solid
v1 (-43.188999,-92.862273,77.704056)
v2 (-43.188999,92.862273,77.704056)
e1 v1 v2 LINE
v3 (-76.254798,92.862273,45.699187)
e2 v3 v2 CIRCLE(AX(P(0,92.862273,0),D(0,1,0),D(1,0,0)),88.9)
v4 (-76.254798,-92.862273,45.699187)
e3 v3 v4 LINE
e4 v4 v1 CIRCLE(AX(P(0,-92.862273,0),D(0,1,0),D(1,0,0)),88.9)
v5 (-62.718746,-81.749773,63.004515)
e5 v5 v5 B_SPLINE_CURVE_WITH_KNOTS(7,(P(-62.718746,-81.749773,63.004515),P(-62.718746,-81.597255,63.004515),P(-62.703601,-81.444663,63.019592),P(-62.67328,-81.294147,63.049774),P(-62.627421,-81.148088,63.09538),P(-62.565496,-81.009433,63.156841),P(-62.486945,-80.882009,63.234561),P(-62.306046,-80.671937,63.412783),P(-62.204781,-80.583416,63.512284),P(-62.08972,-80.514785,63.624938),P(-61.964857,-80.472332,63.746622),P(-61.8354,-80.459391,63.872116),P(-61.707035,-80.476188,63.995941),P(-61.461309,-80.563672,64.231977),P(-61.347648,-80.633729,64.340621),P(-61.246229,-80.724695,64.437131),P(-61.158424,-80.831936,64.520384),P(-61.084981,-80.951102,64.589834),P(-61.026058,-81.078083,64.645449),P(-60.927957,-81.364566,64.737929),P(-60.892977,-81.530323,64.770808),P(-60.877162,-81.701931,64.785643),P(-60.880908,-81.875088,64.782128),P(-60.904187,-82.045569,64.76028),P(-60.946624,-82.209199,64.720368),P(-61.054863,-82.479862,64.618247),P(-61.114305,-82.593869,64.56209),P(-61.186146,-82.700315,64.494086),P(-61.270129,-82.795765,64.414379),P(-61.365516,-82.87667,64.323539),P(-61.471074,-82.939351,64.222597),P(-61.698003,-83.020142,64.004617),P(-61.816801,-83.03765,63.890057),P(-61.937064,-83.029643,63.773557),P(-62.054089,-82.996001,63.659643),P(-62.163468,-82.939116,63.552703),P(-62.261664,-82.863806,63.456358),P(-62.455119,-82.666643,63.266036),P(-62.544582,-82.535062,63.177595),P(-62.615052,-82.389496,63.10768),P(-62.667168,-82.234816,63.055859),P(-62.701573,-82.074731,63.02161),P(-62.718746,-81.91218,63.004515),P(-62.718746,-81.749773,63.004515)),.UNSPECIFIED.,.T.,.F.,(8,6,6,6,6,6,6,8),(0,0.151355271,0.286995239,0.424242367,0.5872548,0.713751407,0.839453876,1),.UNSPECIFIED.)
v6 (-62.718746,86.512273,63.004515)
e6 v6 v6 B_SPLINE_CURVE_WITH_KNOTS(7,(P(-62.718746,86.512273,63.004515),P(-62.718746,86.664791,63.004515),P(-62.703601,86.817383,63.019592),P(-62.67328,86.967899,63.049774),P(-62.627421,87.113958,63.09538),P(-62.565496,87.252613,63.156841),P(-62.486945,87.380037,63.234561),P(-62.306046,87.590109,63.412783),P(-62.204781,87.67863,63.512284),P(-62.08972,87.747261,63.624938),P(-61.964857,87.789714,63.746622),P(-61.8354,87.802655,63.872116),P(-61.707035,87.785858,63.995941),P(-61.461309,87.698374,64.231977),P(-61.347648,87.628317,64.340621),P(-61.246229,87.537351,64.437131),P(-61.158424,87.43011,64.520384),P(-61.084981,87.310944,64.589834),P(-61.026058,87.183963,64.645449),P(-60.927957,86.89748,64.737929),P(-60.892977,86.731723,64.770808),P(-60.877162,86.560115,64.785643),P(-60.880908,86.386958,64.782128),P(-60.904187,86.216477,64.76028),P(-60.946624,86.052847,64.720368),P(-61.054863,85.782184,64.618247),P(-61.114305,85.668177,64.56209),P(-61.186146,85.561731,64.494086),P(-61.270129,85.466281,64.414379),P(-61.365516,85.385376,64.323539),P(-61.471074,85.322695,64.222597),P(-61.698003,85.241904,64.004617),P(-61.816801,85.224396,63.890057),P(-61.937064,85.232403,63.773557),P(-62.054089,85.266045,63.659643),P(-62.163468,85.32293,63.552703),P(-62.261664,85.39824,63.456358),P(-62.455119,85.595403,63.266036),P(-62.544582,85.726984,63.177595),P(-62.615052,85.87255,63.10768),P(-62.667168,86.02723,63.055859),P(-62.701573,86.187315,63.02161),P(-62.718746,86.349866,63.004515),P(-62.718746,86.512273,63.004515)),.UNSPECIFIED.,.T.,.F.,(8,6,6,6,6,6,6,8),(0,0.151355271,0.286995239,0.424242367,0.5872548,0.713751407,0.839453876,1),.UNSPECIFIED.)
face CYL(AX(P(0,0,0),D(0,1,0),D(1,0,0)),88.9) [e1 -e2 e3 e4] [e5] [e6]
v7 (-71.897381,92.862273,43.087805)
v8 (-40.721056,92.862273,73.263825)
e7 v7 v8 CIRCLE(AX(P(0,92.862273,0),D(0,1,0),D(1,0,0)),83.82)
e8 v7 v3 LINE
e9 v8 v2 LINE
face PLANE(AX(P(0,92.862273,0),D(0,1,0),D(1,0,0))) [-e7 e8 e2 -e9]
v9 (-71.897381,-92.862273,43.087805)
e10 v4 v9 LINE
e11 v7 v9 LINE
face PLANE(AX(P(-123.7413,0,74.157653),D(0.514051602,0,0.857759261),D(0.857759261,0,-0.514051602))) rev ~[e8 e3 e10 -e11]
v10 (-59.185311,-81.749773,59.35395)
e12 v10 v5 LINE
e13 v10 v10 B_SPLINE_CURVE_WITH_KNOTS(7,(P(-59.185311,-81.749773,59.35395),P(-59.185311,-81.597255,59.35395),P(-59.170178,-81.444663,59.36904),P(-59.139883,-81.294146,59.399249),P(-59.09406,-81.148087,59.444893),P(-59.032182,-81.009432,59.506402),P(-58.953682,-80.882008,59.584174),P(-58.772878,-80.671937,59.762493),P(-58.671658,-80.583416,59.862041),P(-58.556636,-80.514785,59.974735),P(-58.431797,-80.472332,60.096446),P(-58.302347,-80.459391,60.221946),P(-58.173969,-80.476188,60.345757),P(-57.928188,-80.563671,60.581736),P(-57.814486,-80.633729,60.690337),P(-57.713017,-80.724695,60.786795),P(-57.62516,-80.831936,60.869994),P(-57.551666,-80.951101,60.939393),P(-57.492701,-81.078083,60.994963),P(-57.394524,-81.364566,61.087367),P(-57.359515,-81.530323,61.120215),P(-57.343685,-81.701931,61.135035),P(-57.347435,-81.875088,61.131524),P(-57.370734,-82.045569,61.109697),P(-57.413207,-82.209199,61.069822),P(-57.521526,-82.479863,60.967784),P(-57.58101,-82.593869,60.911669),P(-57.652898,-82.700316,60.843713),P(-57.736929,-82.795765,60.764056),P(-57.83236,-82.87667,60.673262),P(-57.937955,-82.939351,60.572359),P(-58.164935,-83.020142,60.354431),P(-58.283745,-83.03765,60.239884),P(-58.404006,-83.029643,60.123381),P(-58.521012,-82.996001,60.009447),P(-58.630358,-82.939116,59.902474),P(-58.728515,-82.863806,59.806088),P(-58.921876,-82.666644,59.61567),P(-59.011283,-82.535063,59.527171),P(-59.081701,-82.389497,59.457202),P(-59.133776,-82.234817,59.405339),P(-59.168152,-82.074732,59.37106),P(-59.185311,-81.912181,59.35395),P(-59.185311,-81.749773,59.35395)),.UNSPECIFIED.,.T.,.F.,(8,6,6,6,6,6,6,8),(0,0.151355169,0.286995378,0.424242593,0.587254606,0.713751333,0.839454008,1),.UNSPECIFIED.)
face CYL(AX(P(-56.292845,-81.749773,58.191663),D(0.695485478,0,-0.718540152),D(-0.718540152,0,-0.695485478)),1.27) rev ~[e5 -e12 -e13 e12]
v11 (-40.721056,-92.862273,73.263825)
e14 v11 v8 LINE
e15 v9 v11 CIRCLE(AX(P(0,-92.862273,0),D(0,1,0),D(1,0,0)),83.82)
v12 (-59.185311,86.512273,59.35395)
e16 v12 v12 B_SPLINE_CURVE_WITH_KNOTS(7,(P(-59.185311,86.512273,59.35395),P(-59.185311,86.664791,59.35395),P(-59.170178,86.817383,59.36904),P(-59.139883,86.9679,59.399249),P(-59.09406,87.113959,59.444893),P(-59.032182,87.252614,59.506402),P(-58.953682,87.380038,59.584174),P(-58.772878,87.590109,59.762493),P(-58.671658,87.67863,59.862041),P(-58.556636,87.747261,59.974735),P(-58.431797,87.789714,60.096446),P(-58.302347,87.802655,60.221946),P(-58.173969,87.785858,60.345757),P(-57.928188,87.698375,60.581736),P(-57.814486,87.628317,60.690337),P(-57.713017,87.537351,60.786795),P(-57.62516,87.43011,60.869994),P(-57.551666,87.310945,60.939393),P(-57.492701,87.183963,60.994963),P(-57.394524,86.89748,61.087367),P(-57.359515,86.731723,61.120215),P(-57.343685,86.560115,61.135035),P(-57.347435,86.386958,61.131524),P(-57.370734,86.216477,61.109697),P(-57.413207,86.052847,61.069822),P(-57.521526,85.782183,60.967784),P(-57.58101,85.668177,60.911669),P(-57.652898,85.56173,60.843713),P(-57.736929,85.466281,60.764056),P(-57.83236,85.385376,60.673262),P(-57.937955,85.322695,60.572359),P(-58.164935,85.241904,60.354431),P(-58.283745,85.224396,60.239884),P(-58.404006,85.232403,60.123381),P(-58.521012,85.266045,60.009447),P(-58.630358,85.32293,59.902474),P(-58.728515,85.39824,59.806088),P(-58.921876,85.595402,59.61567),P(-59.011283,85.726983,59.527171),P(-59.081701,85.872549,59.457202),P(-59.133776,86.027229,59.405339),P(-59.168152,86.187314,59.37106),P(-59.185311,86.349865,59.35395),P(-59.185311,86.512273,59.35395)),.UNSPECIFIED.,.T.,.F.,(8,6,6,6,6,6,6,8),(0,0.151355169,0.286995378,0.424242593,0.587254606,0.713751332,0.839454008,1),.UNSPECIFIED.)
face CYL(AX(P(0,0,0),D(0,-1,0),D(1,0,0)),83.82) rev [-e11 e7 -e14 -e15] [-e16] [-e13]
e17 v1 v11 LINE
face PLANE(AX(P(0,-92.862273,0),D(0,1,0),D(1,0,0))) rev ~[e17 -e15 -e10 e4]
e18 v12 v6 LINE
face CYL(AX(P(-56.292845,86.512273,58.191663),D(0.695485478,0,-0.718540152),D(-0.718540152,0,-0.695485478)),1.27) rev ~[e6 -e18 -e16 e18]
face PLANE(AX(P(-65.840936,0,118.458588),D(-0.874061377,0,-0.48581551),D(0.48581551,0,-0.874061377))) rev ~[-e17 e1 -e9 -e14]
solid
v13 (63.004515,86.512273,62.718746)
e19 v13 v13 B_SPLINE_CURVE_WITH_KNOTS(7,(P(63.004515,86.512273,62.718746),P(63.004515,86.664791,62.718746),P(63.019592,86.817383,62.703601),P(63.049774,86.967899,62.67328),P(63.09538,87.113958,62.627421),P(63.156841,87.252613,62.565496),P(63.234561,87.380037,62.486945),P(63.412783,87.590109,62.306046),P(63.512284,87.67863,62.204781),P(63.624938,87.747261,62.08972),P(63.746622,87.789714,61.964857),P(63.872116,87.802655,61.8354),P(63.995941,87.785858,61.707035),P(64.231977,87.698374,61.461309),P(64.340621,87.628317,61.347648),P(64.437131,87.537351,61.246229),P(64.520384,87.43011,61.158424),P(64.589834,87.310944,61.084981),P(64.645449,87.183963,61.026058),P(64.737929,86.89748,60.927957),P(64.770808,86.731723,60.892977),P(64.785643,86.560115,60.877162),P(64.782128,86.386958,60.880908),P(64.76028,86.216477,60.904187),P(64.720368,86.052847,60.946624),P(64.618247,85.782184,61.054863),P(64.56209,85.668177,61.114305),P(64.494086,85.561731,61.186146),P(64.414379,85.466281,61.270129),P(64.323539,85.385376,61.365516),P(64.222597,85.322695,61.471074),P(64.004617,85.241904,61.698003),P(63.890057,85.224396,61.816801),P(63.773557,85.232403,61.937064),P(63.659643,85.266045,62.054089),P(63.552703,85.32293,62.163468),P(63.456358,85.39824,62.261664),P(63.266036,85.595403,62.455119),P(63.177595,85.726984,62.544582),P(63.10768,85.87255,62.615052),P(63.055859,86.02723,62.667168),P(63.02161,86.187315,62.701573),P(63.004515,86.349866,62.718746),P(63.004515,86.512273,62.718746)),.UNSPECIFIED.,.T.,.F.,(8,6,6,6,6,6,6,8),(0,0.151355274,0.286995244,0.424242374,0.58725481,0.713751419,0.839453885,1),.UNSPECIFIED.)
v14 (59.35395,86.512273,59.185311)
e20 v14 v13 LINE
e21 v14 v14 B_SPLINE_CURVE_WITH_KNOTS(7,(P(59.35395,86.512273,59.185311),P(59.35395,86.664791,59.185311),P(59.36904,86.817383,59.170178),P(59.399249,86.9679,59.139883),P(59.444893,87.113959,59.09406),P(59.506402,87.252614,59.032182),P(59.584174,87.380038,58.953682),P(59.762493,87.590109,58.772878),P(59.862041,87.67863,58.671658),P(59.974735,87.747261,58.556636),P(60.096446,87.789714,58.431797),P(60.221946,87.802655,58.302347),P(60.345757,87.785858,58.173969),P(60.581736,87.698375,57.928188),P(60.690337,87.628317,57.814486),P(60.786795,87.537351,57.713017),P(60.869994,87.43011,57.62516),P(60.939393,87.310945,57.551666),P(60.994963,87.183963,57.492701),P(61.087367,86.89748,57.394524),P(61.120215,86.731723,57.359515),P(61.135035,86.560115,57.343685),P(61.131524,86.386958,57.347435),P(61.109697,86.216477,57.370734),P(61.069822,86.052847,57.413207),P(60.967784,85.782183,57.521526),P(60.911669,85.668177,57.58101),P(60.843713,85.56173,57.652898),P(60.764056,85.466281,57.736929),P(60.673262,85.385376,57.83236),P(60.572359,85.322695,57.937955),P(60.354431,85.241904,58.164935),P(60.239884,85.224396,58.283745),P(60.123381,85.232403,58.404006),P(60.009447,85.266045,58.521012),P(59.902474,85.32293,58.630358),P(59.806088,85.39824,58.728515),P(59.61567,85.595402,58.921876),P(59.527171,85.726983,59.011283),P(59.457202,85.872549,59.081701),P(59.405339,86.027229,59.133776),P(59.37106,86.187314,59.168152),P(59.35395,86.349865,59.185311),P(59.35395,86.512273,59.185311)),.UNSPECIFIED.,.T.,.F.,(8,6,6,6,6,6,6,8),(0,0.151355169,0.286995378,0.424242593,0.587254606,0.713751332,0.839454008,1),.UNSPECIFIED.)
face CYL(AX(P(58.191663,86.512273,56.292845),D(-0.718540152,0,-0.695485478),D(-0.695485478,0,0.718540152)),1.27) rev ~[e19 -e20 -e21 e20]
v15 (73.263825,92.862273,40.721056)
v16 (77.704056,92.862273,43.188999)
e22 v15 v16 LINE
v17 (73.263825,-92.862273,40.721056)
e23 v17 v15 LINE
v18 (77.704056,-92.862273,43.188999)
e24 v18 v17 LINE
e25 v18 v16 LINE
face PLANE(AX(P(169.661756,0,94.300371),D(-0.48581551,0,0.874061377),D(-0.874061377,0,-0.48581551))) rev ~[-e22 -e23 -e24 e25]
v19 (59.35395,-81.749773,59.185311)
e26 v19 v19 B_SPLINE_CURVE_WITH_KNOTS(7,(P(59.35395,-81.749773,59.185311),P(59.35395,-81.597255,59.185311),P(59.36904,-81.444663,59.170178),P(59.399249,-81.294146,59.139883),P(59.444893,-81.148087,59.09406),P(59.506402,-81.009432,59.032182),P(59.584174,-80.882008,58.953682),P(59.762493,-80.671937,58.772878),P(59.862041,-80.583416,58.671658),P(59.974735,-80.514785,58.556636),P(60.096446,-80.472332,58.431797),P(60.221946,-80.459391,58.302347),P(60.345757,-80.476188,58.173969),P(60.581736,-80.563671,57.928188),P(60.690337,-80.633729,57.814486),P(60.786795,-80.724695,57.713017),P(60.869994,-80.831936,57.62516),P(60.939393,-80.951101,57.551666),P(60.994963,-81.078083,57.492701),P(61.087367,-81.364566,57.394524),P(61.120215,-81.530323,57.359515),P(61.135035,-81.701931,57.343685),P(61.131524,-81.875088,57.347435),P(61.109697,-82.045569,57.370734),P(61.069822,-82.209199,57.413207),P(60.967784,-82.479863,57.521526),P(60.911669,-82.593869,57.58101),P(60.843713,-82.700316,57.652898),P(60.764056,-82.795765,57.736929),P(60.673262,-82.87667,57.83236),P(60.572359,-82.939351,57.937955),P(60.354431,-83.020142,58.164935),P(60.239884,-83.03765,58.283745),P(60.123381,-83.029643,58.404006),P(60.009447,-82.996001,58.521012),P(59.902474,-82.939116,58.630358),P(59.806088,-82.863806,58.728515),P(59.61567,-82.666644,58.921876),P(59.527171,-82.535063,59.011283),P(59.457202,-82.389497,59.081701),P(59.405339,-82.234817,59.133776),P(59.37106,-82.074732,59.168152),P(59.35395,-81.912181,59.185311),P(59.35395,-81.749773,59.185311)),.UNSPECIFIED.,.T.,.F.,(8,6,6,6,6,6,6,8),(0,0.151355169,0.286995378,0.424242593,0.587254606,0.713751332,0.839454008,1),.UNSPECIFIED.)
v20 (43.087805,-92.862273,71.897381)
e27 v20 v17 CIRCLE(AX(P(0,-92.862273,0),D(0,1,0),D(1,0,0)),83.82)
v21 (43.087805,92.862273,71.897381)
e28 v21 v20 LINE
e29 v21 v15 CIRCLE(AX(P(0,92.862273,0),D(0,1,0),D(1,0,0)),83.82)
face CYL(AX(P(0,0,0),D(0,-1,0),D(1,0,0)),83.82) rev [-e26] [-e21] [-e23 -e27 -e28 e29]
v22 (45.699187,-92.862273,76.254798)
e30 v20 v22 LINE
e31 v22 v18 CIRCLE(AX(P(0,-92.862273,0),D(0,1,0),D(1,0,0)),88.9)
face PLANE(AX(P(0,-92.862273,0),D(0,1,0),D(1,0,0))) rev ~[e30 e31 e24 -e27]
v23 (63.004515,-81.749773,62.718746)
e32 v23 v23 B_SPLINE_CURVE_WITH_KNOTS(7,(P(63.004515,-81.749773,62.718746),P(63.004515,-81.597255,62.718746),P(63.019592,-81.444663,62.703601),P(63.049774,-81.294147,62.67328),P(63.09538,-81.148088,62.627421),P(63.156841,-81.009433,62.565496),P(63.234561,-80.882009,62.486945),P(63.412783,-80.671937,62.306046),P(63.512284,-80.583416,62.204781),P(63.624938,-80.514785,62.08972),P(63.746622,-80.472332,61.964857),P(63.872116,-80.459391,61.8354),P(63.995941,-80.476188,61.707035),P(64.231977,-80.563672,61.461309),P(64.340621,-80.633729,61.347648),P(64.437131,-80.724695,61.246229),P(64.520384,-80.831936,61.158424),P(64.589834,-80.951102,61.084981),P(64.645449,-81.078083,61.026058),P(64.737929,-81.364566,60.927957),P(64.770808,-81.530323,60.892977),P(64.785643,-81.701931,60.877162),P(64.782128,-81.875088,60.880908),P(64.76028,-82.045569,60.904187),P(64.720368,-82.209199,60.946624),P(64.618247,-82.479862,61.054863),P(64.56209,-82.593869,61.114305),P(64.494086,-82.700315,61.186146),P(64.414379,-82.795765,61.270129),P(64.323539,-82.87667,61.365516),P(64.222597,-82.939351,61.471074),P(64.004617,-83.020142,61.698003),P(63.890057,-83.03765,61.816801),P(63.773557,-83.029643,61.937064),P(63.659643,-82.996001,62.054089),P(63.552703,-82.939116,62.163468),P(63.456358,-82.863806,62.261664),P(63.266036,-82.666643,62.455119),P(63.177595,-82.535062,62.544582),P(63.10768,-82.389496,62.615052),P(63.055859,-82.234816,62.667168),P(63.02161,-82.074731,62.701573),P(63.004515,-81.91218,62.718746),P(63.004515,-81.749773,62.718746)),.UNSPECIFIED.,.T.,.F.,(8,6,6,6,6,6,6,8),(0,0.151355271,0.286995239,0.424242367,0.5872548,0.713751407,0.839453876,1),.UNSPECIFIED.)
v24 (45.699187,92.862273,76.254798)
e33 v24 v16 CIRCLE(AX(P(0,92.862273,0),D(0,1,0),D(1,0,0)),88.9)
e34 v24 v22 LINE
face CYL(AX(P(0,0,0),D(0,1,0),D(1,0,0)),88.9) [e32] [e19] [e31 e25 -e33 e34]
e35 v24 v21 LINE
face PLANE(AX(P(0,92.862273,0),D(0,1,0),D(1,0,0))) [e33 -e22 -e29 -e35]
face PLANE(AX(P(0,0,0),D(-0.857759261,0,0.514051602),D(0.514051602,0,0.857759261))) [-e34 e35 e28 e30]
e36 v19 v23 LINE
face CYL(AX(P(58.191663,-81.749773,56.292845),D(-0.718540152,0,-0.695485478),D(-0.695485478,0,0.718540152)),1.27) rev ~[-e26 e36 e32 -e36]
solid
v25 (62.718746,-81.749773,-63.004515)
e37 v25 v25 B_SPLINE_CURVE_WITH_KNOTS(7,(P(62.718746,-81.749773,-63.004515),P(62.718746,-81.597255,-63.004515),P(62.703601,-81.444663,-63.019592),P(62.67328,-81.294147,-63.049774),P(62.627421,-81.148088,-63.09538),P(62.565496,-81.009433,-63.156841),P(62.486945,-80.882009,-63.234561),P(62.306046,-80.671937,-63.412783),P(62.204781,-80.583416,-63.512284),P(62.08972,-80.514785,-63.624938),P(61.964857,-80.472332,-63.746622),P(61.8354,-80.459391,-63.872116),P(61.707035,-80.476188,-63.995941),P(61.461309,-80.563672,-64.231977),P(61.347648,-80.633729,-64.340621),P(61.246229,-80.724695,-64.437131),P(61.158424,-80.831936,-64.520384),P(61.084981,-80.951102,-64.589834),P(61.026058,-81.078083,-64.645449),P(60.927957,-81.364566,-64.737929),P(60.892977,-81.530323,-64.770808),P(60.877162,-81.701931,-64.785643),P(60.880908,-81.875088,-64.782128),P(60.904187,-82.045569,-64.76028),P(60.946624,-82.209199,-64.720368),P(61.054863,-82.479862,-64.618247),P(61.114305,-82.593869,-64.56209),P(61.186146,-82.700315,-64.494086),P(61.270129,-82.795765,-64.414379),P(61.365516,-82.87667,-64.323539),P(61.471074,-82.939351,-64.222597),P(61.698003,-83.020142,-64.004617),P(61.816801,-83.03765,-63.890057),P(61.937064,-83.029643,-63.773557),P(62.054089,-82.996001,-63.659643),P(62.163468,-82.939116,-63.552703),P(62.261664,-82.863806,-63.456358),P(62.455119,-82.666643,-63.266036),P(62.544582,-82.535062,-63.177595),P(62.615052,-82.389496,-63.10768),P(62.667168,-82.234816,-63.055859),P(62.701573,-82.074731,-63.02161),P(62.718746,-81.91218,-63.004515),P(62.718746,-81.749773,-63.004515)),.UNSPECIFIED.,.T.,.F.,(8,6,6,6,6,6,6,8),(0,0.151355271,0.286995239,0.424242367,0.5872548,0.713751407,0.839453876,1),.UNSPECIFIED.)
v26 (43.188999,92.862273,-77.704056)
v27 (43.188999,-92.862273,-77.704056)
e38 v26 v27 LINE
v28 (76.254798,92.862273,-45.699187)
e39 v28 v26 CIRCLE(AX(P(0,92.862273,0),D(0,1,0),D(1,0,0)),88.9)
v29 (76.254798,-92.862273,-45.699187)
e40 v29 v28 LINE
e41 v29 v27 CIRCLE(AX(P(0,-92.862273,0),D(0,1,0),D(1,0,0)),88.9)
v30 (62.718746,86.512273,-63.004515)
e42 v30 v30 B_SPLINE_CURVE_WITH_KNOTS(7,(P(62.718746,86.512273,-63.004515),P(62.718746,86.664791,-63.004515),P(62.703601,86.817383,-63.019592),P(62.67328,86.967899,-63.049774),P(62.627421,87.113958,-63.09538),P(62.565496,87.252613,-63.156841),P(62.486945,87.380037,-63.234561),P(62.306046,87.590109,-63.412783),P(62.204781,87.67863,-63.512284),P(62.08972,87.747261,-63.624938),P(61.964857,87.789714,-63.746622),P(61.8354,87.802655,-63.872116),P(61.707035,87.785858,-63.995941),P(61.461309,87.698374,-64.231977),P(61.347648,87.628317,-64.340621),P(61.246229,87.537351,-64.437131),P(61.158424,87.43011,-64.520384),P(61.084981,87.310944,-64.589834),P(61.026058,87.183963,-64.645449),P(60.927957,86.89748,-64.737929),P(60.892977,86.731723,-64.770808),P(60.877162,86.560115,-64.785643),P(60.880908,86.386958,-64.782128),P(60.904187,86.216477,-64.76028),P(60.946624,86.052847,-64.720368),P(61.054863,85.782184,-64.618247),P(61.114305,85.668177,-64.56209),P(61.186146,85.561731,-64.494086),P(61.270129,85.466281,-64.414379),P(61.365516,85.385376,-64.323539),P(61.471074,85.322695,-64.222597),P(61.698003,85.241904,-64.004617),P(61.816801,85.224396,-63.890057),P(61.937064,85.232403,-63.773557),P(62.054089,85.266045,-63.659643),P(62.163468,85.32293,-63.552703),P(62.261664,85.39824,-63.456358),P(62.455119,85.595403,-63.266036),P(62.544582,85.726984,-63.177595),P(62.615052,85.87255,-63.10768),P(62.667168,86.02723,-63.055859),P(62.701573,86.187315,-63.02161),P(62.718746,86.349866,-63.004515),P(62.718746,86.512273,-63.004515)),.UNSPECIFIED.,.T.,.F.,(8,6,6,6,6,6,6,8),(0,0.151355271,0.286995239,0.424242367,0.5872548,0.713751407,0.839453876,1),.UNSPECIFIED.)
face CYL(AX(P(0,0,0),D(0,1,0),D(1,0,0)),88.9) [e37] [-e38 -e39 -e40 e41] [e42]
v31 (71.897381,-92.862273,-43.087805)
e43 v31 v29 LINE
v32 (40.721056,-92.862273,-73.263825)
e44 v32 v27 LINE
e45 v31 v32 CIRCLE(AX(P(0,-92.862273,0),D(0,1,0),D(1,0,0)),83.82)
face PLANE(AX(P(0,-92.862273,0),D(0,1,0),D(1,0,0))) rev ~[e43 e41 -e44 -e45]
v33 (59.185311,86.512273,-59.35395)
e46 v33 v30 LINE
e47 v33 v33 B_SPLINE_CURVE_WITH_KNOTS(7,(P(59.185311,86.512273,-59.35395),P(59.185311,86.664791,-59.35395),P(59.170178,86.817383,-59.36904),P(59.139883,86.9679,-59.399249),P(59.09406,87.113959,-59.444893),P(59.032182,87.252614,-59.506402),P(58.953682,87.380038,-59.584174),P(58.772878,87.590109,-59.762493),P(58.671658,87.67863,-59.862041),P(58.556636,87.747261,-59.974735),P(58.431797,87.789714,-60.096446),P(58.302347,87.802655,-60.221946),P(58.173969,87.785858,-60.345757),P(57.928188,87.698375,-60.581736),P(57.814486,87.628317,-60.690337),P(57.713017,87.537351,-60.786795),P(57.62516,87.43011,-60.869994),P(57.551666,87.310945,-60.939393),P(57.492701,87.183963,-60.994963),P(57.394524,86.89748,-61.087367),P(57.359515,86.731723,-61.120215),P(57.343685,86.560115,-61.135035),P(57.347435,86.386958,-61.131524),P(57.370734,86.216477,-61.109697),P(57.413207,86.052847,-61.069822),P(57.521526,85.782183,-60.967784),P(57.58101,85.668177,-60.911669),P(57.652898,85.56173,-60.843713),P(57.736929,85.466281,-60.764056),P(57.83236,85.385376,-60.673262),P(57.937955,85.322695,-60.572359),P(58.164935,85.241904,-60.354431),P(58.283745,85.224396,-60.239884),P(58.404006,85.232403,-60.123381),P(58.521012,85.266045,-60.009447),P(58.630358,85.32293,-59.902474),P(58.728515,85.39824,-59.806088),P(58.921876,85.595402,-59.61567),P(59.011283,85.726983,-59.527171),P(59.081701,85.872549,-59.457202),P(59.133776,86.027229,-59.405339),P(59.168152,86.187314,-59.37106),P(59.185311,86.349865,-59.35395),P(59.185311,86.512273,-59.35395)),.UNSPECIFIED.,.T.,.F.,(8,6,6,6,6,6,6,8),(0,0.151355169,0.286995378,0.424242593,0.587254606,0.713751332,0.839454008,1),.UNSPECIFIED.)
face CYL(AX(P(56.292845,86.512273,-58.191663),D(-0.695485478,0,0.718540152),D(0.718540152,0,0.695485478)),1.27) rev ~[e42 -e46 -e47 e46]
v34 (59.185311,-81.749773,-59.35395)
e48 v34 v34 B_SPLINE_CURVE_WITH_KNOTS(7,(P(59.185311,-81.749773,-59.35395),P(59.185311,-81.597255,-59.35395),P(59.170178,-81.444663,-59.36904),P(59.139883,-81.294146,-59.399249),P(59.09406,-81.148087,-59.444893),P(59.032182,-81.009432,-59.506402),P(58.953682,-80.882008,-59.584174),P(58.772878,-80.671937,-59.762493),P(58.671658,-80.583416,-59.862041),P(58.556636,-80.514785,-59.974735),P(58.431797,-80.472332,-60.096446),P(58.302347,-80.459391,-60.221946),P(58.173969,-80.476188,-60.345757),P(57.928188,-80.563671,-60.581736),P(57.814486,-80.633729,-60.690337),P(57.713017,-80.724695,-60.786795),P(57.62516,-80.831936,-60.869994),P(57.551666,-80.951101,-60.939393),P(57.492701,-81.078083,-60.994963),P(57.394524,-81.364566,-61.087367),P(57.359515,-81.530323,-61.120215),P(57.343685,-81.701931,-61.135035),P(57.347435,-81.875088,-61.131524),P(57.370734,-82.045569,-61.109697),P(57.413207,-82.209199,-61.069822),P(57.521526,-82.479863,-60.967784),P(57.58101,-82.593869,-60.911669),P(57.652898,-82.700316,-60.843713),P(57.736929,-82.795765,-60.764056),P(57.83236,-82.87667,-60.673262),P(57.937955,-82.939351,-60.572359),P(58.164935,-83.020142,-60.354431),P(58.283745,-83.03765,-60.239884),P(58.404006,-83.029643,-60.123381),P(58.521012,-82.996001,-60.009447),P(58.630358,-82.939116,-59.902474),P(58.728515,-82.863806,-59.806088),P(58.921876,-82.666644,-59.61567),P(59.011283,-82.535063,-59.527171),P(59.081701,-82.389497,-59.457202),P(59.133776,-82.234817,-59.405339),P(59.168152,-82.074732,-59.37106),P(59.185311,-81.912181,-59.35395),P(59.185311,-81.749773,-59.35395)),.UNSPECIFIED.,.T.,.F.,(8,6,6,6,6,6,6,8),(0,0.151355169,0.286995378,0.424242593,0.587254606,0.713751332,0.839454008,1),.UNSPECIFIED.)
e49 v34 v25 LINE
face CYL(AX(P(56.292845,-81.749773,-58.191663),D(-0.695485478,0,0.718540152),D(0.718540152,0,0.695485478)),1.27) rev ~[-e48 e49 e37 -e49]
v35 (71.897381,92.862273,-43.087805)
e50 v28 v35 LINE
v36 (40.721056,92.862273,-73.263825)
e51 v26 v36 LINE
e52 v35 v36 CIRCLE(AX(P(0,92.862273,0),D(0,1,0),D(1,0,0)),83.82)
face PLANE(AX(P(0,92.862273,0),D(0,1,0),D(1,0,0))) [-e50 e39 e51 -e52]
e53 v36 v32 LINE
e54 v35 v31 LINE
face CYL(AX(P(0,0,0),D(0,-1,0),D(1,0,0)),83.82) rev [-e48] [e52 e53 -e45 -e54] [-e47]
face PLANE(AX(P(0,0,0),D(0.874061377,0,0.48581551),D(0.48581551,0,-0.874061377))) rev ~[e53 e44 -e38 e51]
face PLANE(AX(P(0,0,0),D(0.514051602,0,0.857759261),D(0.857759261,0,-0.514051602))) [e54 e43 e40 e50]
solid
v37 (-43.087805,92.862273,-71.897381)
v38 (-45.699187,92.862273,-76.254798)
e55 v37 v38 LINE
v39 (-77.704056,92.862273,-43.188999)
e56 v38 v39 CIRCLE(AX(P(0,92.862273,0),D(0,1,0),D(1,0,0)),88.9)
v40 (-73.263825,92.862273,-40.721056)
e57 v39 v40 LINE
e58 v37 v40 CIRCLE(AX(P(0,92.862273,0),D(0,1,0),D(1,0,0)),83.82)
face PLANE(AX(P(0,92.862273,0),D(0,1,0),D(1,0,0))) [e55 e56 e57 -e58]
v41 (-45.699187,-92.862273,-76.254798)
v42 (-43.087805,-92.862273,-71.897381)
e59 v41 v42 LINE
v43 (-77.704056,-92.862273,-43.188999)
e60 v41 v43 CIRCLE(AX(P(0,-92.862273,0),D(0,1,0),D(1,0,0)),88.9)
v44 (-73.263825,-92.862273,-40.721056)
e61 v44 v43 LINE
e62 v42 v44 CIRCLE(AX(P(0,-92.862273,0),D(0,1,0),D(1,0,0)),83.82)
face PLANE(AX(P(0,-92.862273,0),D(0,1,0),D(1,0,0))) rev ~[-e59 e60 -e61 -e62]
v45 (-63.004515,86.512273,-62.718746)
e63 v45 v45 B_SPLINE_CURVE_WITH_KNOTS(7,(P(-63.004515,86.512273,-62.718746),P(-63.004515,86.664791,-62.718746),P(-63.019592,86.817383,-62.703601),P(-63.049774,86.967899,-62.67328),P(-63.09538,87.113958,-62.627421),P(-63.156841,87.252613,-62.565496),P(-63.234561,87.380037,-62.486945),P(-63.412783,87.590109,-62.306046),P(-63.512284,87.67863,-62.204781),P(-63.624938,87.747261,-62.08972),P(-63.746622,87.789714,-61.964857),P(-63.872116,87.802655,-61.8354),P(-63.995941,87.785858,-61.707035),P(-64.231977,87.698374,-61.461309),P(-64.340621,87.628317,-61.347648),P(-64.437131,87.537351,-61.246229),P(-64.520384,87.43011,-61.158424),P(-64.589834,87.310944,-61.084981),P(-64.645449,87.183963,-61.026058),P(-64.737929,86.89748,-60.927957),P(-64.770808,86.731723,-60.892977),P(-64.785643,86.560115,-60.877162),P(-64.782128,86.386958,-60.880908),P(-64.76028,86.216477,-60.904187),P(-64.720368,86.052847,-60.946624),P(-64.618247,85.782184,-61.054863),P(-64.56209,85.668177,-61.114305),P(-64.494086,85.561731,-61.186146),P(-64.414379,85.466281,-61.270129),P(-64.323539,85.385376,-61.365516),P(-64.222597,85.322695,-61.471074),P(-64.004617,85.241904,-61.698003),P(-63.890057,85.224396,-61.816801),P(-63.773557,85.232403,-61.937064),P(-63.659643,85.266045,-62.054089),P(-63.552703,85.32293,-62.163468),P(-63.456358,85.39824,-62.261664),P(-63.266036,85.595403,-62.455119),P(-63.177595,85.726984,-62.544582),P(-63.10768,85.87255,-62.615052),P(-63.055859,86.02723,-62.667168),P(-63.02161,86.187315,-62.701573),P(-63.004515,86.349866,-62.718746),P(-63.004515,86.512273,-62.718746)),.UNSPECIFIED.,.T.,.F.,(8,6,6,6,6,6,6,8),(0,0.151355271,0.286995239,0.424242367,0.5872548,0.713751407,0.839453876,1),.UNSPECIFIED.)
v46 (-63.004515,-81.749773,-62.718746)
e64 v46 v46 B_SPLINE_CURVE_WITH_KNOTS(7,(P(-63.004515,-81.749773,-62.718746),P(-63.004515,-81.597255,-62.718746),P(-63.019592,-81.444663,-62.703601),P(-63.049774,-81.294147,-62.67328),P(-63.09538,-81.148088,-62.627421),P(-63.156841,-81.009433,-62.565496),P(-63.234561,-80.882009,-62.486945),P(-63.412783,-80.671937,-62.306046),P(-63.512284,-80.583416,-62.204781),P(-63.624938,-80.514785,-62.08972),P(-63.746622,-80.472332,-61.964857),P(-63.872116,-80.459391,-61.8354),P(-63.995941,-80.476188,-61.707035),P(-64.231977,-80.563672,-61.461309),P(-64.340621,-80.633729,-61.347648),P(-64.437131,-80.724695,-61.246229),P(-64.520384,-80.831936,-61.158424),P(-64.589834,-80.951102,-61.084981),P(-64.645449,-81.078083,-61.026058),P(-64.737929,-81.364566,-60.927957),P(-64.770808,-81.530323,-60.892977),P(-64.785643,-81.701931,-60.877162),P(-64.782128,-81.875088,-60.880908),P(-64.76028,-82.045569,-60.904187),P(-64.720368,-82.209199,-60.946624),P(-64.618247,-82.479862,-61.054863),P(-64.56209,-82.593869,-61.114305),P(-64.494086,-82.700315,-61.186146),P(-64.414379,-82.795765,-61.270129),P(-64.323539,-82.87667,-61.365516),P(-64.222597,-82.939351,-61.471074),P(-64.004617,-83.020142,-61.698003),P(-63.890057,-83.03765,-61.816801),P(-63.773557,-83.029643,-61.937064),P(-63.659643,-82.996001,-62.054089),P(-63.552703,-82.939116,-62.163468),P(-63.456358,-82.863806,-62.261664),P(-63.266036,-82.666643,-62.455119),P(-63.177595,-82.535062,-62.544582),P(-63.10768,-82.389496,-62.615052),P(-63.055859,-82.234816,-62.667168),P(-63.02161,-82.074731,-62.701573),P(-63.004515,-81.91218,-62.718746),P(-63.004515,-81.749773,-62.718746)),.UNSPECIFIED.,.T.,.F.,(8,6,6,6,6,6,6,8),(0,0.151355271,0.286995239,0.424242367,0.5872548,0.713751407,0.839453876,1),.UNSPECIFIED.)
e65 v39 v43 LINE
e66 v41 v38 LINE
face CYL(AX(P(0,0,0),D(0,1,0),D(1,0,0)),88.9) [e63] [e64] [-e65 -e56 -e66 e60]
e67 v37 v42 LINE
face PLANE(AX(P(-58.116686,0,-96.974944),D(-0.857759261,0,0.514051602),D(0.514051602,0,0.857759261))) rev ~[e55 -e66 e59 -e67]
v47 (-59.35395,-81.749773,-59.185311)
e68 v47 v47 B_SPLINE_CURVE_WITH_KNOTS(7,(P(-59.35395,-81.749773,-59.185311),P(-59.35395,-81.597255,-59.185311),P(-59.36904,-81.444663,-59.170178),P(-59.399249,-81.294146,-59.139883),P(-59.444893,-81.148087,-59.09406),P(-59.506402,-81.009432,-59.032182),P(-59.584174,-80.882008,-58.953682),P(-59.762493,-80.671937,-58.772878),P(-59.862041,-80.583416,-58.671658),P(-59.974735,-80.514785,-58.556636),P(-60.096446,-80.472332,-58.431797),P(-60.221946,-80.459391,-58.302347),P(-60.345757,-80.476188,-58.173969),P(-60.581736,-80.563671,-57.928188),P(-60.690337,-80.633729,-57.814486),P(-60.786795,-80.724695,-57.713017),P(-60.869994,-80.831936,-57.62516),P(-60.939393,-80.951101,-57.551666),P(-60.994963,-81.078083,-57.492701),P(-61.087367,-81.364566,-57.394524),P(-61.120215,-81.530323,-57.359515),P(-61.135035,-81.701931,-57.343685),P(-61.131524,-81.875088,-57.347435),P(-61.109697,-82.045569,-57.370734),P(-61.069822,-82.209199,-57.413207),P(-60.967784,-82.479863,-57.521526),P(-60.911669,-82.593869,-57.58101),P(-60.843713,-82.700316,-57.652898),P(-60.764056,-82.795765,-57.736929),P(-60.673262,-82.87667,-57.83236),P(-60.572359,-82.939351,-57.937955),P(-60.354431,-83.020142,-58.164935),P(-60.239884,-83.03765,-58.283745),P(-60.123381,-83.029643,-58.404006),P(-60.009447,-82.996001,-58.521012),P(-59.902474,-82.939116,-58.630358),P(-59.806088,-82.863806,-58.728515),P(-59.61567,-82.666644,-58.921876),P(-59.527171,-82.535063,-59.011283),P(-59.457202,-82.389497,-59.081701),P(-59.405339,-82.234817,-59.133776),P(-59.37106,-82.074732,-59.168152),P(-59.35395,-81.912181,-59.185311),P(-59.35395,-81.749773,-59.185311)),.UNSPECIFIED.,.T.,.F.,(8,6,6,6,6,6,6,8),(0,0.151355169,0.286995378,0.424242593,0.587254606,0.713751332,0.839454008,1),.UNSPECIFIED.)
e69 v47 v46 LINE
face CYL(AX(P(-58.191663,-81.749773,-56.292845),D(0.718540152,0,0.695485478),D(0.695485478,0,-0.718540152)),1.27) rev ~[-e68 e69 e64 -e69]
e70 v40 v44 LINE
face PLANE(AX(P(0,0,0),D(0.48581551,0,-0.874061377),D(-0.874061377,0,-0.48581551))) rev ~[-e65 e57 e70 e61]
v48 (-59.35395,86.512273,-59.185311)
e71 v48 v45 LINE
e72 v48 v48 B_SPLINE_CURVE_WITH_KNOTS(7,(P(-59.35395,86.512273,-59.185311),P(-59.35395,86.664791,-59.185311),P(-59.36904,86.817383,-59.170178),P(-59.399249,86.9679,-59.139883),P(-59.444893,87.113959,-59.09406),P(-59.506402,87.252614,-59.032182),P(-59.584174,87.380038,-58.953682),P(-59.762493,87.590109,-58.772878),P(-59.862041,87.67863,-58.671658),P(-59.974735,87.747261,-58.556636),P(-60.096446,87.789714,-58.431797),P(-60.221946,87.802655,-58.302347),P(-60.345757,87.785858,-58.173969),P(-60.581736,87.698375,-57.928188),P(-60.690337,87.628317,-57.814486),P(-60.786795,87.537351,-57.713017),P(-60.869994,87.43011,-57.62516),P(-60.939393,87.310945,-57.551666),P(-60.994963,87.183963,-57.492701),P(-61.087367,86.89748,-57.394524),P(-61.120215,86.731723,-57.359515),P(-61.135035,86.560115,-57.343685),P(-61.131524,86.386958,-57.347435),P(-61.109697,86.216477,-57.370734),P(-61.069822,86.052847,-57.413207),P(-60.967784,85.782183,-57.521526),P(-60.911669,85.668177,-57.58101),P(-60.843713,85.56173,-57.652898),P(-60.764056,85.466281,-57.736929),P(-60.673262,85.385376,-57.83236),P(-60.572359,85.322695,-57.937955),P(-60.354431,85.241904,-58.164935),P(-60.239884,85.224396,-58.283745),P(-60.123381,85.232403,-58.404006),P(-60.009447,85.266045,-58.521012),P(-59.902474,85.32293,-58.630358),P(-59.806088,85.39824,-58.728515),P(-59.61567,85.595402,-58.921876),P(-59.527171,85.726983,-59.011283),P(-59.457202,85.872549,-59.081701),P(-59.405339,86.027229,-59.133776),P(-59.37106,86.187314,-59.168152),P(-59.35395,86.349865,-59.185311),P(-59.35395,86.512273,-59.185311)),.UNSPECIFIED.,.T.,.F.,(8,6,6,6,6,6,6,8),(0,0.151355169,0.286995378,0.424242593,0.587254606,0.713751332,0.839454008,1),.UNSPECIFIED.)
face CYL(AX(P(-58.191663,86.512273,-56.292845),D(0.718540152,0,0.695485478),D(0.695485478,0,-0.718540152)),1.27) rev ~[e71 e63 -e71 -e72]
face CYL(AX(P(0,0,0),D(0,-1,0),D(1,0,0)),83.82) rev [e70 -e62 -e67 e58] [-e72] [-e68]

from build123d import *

# Parameters (mm, degrees)
SKETCH2_R               = 88.9
SKETCH2_R_2             = 83.82
BOSS_EXTRUDE1_DEPTH     = 92.862273
CUT_EXTRUDE1_DEPTH      = 93.862273
CUT_EXTRUDE1_DEPTH_BACK = 93.862273
SKETCH5_R               = 1.27
BOLT_HOLES_DEPTH        = 29.911624556
BOLT_PATTERN_COUNT      = 4


with BuildPart() as part:
    # Sketch2 → Boss-Extrude1 (new body, symmetric)
    with BuildSketch(Plane(origin=(0, 0, 0), x_dir=(1, 0, 0), z_dir=(0, 1, 0))):
        Circle(SKETCH2_R)
        Circle(SKETCH2_R_2, mode=Mode.SUBTRACT)
    extrude(amount=BOSS_EXTRUDE1_DEPTH, both=True)

    # Sketch3 → Cut-Extrude1 (cut, two sides)
    with BuildSketch(Plane(origin=(0, 0, 0), x_dir=(1, 0, 0), z_dir=(0, 1, 0))) as cut_extrude1_sk:
        Polygon((169.661755759, -94.300371224), (0, 0), (169.661755759, 101.677593364), align=None)
        Polygon((0, 0), (53.900027233, 96.974944394), (-58.116685864, 96.974944394), align=None)
        Polygon((-123.741299607, 68.777140945), (-123.741299607, -74.157652604), (0, 0), align=None)
        Polygon((-65.840936026, -118.45858783), (0, 0), (70.991745134, -118.45858783), align=None)
    extrude(amount=CUT_EXTRUDE1_DEPTH, mode=Mode.SUBTRACT)
    extrude(cut_extrude1_sk.sketch, amount=-CUT_EXTRUDE1_DEPTH_BACK, mode=Mode.SUBTRACT)

    # Sketch5 → Bolt holes (cut, through all)
    with BuildSketch(Plane(origin=(-56.309218645, 0, 58.175814955), x_dir=(-0.718540152, 0, -0.695485478), z_dir=(0.695485478, 0, -0.718540152))):
        with Locations((-0.02278764, 86.512273)):
            Circle(SKETCH5_R)
        with Locations((-0.02278764, -81.749773)):
            Circle(SKETCH5_R)
    bolt_holes = extrude(amount=-BOLT_HOLES_DEPTH, mode=Mode.SUBTRACT)

    # Bolt pattern: Bolt holes ×4 about axis
    bolt_pattern_axis = Axis((0, 92.862273, 0), (0, 1, 0))
    for i in range(1, BOLT_PATTERN_COUNT):
        add(bolt_holes.rotate(bolt_pattern_axis, i * 360 / BOLT_PATTERN_COUNT), mode=Mode.SUBTRACT)


solid = part.part
